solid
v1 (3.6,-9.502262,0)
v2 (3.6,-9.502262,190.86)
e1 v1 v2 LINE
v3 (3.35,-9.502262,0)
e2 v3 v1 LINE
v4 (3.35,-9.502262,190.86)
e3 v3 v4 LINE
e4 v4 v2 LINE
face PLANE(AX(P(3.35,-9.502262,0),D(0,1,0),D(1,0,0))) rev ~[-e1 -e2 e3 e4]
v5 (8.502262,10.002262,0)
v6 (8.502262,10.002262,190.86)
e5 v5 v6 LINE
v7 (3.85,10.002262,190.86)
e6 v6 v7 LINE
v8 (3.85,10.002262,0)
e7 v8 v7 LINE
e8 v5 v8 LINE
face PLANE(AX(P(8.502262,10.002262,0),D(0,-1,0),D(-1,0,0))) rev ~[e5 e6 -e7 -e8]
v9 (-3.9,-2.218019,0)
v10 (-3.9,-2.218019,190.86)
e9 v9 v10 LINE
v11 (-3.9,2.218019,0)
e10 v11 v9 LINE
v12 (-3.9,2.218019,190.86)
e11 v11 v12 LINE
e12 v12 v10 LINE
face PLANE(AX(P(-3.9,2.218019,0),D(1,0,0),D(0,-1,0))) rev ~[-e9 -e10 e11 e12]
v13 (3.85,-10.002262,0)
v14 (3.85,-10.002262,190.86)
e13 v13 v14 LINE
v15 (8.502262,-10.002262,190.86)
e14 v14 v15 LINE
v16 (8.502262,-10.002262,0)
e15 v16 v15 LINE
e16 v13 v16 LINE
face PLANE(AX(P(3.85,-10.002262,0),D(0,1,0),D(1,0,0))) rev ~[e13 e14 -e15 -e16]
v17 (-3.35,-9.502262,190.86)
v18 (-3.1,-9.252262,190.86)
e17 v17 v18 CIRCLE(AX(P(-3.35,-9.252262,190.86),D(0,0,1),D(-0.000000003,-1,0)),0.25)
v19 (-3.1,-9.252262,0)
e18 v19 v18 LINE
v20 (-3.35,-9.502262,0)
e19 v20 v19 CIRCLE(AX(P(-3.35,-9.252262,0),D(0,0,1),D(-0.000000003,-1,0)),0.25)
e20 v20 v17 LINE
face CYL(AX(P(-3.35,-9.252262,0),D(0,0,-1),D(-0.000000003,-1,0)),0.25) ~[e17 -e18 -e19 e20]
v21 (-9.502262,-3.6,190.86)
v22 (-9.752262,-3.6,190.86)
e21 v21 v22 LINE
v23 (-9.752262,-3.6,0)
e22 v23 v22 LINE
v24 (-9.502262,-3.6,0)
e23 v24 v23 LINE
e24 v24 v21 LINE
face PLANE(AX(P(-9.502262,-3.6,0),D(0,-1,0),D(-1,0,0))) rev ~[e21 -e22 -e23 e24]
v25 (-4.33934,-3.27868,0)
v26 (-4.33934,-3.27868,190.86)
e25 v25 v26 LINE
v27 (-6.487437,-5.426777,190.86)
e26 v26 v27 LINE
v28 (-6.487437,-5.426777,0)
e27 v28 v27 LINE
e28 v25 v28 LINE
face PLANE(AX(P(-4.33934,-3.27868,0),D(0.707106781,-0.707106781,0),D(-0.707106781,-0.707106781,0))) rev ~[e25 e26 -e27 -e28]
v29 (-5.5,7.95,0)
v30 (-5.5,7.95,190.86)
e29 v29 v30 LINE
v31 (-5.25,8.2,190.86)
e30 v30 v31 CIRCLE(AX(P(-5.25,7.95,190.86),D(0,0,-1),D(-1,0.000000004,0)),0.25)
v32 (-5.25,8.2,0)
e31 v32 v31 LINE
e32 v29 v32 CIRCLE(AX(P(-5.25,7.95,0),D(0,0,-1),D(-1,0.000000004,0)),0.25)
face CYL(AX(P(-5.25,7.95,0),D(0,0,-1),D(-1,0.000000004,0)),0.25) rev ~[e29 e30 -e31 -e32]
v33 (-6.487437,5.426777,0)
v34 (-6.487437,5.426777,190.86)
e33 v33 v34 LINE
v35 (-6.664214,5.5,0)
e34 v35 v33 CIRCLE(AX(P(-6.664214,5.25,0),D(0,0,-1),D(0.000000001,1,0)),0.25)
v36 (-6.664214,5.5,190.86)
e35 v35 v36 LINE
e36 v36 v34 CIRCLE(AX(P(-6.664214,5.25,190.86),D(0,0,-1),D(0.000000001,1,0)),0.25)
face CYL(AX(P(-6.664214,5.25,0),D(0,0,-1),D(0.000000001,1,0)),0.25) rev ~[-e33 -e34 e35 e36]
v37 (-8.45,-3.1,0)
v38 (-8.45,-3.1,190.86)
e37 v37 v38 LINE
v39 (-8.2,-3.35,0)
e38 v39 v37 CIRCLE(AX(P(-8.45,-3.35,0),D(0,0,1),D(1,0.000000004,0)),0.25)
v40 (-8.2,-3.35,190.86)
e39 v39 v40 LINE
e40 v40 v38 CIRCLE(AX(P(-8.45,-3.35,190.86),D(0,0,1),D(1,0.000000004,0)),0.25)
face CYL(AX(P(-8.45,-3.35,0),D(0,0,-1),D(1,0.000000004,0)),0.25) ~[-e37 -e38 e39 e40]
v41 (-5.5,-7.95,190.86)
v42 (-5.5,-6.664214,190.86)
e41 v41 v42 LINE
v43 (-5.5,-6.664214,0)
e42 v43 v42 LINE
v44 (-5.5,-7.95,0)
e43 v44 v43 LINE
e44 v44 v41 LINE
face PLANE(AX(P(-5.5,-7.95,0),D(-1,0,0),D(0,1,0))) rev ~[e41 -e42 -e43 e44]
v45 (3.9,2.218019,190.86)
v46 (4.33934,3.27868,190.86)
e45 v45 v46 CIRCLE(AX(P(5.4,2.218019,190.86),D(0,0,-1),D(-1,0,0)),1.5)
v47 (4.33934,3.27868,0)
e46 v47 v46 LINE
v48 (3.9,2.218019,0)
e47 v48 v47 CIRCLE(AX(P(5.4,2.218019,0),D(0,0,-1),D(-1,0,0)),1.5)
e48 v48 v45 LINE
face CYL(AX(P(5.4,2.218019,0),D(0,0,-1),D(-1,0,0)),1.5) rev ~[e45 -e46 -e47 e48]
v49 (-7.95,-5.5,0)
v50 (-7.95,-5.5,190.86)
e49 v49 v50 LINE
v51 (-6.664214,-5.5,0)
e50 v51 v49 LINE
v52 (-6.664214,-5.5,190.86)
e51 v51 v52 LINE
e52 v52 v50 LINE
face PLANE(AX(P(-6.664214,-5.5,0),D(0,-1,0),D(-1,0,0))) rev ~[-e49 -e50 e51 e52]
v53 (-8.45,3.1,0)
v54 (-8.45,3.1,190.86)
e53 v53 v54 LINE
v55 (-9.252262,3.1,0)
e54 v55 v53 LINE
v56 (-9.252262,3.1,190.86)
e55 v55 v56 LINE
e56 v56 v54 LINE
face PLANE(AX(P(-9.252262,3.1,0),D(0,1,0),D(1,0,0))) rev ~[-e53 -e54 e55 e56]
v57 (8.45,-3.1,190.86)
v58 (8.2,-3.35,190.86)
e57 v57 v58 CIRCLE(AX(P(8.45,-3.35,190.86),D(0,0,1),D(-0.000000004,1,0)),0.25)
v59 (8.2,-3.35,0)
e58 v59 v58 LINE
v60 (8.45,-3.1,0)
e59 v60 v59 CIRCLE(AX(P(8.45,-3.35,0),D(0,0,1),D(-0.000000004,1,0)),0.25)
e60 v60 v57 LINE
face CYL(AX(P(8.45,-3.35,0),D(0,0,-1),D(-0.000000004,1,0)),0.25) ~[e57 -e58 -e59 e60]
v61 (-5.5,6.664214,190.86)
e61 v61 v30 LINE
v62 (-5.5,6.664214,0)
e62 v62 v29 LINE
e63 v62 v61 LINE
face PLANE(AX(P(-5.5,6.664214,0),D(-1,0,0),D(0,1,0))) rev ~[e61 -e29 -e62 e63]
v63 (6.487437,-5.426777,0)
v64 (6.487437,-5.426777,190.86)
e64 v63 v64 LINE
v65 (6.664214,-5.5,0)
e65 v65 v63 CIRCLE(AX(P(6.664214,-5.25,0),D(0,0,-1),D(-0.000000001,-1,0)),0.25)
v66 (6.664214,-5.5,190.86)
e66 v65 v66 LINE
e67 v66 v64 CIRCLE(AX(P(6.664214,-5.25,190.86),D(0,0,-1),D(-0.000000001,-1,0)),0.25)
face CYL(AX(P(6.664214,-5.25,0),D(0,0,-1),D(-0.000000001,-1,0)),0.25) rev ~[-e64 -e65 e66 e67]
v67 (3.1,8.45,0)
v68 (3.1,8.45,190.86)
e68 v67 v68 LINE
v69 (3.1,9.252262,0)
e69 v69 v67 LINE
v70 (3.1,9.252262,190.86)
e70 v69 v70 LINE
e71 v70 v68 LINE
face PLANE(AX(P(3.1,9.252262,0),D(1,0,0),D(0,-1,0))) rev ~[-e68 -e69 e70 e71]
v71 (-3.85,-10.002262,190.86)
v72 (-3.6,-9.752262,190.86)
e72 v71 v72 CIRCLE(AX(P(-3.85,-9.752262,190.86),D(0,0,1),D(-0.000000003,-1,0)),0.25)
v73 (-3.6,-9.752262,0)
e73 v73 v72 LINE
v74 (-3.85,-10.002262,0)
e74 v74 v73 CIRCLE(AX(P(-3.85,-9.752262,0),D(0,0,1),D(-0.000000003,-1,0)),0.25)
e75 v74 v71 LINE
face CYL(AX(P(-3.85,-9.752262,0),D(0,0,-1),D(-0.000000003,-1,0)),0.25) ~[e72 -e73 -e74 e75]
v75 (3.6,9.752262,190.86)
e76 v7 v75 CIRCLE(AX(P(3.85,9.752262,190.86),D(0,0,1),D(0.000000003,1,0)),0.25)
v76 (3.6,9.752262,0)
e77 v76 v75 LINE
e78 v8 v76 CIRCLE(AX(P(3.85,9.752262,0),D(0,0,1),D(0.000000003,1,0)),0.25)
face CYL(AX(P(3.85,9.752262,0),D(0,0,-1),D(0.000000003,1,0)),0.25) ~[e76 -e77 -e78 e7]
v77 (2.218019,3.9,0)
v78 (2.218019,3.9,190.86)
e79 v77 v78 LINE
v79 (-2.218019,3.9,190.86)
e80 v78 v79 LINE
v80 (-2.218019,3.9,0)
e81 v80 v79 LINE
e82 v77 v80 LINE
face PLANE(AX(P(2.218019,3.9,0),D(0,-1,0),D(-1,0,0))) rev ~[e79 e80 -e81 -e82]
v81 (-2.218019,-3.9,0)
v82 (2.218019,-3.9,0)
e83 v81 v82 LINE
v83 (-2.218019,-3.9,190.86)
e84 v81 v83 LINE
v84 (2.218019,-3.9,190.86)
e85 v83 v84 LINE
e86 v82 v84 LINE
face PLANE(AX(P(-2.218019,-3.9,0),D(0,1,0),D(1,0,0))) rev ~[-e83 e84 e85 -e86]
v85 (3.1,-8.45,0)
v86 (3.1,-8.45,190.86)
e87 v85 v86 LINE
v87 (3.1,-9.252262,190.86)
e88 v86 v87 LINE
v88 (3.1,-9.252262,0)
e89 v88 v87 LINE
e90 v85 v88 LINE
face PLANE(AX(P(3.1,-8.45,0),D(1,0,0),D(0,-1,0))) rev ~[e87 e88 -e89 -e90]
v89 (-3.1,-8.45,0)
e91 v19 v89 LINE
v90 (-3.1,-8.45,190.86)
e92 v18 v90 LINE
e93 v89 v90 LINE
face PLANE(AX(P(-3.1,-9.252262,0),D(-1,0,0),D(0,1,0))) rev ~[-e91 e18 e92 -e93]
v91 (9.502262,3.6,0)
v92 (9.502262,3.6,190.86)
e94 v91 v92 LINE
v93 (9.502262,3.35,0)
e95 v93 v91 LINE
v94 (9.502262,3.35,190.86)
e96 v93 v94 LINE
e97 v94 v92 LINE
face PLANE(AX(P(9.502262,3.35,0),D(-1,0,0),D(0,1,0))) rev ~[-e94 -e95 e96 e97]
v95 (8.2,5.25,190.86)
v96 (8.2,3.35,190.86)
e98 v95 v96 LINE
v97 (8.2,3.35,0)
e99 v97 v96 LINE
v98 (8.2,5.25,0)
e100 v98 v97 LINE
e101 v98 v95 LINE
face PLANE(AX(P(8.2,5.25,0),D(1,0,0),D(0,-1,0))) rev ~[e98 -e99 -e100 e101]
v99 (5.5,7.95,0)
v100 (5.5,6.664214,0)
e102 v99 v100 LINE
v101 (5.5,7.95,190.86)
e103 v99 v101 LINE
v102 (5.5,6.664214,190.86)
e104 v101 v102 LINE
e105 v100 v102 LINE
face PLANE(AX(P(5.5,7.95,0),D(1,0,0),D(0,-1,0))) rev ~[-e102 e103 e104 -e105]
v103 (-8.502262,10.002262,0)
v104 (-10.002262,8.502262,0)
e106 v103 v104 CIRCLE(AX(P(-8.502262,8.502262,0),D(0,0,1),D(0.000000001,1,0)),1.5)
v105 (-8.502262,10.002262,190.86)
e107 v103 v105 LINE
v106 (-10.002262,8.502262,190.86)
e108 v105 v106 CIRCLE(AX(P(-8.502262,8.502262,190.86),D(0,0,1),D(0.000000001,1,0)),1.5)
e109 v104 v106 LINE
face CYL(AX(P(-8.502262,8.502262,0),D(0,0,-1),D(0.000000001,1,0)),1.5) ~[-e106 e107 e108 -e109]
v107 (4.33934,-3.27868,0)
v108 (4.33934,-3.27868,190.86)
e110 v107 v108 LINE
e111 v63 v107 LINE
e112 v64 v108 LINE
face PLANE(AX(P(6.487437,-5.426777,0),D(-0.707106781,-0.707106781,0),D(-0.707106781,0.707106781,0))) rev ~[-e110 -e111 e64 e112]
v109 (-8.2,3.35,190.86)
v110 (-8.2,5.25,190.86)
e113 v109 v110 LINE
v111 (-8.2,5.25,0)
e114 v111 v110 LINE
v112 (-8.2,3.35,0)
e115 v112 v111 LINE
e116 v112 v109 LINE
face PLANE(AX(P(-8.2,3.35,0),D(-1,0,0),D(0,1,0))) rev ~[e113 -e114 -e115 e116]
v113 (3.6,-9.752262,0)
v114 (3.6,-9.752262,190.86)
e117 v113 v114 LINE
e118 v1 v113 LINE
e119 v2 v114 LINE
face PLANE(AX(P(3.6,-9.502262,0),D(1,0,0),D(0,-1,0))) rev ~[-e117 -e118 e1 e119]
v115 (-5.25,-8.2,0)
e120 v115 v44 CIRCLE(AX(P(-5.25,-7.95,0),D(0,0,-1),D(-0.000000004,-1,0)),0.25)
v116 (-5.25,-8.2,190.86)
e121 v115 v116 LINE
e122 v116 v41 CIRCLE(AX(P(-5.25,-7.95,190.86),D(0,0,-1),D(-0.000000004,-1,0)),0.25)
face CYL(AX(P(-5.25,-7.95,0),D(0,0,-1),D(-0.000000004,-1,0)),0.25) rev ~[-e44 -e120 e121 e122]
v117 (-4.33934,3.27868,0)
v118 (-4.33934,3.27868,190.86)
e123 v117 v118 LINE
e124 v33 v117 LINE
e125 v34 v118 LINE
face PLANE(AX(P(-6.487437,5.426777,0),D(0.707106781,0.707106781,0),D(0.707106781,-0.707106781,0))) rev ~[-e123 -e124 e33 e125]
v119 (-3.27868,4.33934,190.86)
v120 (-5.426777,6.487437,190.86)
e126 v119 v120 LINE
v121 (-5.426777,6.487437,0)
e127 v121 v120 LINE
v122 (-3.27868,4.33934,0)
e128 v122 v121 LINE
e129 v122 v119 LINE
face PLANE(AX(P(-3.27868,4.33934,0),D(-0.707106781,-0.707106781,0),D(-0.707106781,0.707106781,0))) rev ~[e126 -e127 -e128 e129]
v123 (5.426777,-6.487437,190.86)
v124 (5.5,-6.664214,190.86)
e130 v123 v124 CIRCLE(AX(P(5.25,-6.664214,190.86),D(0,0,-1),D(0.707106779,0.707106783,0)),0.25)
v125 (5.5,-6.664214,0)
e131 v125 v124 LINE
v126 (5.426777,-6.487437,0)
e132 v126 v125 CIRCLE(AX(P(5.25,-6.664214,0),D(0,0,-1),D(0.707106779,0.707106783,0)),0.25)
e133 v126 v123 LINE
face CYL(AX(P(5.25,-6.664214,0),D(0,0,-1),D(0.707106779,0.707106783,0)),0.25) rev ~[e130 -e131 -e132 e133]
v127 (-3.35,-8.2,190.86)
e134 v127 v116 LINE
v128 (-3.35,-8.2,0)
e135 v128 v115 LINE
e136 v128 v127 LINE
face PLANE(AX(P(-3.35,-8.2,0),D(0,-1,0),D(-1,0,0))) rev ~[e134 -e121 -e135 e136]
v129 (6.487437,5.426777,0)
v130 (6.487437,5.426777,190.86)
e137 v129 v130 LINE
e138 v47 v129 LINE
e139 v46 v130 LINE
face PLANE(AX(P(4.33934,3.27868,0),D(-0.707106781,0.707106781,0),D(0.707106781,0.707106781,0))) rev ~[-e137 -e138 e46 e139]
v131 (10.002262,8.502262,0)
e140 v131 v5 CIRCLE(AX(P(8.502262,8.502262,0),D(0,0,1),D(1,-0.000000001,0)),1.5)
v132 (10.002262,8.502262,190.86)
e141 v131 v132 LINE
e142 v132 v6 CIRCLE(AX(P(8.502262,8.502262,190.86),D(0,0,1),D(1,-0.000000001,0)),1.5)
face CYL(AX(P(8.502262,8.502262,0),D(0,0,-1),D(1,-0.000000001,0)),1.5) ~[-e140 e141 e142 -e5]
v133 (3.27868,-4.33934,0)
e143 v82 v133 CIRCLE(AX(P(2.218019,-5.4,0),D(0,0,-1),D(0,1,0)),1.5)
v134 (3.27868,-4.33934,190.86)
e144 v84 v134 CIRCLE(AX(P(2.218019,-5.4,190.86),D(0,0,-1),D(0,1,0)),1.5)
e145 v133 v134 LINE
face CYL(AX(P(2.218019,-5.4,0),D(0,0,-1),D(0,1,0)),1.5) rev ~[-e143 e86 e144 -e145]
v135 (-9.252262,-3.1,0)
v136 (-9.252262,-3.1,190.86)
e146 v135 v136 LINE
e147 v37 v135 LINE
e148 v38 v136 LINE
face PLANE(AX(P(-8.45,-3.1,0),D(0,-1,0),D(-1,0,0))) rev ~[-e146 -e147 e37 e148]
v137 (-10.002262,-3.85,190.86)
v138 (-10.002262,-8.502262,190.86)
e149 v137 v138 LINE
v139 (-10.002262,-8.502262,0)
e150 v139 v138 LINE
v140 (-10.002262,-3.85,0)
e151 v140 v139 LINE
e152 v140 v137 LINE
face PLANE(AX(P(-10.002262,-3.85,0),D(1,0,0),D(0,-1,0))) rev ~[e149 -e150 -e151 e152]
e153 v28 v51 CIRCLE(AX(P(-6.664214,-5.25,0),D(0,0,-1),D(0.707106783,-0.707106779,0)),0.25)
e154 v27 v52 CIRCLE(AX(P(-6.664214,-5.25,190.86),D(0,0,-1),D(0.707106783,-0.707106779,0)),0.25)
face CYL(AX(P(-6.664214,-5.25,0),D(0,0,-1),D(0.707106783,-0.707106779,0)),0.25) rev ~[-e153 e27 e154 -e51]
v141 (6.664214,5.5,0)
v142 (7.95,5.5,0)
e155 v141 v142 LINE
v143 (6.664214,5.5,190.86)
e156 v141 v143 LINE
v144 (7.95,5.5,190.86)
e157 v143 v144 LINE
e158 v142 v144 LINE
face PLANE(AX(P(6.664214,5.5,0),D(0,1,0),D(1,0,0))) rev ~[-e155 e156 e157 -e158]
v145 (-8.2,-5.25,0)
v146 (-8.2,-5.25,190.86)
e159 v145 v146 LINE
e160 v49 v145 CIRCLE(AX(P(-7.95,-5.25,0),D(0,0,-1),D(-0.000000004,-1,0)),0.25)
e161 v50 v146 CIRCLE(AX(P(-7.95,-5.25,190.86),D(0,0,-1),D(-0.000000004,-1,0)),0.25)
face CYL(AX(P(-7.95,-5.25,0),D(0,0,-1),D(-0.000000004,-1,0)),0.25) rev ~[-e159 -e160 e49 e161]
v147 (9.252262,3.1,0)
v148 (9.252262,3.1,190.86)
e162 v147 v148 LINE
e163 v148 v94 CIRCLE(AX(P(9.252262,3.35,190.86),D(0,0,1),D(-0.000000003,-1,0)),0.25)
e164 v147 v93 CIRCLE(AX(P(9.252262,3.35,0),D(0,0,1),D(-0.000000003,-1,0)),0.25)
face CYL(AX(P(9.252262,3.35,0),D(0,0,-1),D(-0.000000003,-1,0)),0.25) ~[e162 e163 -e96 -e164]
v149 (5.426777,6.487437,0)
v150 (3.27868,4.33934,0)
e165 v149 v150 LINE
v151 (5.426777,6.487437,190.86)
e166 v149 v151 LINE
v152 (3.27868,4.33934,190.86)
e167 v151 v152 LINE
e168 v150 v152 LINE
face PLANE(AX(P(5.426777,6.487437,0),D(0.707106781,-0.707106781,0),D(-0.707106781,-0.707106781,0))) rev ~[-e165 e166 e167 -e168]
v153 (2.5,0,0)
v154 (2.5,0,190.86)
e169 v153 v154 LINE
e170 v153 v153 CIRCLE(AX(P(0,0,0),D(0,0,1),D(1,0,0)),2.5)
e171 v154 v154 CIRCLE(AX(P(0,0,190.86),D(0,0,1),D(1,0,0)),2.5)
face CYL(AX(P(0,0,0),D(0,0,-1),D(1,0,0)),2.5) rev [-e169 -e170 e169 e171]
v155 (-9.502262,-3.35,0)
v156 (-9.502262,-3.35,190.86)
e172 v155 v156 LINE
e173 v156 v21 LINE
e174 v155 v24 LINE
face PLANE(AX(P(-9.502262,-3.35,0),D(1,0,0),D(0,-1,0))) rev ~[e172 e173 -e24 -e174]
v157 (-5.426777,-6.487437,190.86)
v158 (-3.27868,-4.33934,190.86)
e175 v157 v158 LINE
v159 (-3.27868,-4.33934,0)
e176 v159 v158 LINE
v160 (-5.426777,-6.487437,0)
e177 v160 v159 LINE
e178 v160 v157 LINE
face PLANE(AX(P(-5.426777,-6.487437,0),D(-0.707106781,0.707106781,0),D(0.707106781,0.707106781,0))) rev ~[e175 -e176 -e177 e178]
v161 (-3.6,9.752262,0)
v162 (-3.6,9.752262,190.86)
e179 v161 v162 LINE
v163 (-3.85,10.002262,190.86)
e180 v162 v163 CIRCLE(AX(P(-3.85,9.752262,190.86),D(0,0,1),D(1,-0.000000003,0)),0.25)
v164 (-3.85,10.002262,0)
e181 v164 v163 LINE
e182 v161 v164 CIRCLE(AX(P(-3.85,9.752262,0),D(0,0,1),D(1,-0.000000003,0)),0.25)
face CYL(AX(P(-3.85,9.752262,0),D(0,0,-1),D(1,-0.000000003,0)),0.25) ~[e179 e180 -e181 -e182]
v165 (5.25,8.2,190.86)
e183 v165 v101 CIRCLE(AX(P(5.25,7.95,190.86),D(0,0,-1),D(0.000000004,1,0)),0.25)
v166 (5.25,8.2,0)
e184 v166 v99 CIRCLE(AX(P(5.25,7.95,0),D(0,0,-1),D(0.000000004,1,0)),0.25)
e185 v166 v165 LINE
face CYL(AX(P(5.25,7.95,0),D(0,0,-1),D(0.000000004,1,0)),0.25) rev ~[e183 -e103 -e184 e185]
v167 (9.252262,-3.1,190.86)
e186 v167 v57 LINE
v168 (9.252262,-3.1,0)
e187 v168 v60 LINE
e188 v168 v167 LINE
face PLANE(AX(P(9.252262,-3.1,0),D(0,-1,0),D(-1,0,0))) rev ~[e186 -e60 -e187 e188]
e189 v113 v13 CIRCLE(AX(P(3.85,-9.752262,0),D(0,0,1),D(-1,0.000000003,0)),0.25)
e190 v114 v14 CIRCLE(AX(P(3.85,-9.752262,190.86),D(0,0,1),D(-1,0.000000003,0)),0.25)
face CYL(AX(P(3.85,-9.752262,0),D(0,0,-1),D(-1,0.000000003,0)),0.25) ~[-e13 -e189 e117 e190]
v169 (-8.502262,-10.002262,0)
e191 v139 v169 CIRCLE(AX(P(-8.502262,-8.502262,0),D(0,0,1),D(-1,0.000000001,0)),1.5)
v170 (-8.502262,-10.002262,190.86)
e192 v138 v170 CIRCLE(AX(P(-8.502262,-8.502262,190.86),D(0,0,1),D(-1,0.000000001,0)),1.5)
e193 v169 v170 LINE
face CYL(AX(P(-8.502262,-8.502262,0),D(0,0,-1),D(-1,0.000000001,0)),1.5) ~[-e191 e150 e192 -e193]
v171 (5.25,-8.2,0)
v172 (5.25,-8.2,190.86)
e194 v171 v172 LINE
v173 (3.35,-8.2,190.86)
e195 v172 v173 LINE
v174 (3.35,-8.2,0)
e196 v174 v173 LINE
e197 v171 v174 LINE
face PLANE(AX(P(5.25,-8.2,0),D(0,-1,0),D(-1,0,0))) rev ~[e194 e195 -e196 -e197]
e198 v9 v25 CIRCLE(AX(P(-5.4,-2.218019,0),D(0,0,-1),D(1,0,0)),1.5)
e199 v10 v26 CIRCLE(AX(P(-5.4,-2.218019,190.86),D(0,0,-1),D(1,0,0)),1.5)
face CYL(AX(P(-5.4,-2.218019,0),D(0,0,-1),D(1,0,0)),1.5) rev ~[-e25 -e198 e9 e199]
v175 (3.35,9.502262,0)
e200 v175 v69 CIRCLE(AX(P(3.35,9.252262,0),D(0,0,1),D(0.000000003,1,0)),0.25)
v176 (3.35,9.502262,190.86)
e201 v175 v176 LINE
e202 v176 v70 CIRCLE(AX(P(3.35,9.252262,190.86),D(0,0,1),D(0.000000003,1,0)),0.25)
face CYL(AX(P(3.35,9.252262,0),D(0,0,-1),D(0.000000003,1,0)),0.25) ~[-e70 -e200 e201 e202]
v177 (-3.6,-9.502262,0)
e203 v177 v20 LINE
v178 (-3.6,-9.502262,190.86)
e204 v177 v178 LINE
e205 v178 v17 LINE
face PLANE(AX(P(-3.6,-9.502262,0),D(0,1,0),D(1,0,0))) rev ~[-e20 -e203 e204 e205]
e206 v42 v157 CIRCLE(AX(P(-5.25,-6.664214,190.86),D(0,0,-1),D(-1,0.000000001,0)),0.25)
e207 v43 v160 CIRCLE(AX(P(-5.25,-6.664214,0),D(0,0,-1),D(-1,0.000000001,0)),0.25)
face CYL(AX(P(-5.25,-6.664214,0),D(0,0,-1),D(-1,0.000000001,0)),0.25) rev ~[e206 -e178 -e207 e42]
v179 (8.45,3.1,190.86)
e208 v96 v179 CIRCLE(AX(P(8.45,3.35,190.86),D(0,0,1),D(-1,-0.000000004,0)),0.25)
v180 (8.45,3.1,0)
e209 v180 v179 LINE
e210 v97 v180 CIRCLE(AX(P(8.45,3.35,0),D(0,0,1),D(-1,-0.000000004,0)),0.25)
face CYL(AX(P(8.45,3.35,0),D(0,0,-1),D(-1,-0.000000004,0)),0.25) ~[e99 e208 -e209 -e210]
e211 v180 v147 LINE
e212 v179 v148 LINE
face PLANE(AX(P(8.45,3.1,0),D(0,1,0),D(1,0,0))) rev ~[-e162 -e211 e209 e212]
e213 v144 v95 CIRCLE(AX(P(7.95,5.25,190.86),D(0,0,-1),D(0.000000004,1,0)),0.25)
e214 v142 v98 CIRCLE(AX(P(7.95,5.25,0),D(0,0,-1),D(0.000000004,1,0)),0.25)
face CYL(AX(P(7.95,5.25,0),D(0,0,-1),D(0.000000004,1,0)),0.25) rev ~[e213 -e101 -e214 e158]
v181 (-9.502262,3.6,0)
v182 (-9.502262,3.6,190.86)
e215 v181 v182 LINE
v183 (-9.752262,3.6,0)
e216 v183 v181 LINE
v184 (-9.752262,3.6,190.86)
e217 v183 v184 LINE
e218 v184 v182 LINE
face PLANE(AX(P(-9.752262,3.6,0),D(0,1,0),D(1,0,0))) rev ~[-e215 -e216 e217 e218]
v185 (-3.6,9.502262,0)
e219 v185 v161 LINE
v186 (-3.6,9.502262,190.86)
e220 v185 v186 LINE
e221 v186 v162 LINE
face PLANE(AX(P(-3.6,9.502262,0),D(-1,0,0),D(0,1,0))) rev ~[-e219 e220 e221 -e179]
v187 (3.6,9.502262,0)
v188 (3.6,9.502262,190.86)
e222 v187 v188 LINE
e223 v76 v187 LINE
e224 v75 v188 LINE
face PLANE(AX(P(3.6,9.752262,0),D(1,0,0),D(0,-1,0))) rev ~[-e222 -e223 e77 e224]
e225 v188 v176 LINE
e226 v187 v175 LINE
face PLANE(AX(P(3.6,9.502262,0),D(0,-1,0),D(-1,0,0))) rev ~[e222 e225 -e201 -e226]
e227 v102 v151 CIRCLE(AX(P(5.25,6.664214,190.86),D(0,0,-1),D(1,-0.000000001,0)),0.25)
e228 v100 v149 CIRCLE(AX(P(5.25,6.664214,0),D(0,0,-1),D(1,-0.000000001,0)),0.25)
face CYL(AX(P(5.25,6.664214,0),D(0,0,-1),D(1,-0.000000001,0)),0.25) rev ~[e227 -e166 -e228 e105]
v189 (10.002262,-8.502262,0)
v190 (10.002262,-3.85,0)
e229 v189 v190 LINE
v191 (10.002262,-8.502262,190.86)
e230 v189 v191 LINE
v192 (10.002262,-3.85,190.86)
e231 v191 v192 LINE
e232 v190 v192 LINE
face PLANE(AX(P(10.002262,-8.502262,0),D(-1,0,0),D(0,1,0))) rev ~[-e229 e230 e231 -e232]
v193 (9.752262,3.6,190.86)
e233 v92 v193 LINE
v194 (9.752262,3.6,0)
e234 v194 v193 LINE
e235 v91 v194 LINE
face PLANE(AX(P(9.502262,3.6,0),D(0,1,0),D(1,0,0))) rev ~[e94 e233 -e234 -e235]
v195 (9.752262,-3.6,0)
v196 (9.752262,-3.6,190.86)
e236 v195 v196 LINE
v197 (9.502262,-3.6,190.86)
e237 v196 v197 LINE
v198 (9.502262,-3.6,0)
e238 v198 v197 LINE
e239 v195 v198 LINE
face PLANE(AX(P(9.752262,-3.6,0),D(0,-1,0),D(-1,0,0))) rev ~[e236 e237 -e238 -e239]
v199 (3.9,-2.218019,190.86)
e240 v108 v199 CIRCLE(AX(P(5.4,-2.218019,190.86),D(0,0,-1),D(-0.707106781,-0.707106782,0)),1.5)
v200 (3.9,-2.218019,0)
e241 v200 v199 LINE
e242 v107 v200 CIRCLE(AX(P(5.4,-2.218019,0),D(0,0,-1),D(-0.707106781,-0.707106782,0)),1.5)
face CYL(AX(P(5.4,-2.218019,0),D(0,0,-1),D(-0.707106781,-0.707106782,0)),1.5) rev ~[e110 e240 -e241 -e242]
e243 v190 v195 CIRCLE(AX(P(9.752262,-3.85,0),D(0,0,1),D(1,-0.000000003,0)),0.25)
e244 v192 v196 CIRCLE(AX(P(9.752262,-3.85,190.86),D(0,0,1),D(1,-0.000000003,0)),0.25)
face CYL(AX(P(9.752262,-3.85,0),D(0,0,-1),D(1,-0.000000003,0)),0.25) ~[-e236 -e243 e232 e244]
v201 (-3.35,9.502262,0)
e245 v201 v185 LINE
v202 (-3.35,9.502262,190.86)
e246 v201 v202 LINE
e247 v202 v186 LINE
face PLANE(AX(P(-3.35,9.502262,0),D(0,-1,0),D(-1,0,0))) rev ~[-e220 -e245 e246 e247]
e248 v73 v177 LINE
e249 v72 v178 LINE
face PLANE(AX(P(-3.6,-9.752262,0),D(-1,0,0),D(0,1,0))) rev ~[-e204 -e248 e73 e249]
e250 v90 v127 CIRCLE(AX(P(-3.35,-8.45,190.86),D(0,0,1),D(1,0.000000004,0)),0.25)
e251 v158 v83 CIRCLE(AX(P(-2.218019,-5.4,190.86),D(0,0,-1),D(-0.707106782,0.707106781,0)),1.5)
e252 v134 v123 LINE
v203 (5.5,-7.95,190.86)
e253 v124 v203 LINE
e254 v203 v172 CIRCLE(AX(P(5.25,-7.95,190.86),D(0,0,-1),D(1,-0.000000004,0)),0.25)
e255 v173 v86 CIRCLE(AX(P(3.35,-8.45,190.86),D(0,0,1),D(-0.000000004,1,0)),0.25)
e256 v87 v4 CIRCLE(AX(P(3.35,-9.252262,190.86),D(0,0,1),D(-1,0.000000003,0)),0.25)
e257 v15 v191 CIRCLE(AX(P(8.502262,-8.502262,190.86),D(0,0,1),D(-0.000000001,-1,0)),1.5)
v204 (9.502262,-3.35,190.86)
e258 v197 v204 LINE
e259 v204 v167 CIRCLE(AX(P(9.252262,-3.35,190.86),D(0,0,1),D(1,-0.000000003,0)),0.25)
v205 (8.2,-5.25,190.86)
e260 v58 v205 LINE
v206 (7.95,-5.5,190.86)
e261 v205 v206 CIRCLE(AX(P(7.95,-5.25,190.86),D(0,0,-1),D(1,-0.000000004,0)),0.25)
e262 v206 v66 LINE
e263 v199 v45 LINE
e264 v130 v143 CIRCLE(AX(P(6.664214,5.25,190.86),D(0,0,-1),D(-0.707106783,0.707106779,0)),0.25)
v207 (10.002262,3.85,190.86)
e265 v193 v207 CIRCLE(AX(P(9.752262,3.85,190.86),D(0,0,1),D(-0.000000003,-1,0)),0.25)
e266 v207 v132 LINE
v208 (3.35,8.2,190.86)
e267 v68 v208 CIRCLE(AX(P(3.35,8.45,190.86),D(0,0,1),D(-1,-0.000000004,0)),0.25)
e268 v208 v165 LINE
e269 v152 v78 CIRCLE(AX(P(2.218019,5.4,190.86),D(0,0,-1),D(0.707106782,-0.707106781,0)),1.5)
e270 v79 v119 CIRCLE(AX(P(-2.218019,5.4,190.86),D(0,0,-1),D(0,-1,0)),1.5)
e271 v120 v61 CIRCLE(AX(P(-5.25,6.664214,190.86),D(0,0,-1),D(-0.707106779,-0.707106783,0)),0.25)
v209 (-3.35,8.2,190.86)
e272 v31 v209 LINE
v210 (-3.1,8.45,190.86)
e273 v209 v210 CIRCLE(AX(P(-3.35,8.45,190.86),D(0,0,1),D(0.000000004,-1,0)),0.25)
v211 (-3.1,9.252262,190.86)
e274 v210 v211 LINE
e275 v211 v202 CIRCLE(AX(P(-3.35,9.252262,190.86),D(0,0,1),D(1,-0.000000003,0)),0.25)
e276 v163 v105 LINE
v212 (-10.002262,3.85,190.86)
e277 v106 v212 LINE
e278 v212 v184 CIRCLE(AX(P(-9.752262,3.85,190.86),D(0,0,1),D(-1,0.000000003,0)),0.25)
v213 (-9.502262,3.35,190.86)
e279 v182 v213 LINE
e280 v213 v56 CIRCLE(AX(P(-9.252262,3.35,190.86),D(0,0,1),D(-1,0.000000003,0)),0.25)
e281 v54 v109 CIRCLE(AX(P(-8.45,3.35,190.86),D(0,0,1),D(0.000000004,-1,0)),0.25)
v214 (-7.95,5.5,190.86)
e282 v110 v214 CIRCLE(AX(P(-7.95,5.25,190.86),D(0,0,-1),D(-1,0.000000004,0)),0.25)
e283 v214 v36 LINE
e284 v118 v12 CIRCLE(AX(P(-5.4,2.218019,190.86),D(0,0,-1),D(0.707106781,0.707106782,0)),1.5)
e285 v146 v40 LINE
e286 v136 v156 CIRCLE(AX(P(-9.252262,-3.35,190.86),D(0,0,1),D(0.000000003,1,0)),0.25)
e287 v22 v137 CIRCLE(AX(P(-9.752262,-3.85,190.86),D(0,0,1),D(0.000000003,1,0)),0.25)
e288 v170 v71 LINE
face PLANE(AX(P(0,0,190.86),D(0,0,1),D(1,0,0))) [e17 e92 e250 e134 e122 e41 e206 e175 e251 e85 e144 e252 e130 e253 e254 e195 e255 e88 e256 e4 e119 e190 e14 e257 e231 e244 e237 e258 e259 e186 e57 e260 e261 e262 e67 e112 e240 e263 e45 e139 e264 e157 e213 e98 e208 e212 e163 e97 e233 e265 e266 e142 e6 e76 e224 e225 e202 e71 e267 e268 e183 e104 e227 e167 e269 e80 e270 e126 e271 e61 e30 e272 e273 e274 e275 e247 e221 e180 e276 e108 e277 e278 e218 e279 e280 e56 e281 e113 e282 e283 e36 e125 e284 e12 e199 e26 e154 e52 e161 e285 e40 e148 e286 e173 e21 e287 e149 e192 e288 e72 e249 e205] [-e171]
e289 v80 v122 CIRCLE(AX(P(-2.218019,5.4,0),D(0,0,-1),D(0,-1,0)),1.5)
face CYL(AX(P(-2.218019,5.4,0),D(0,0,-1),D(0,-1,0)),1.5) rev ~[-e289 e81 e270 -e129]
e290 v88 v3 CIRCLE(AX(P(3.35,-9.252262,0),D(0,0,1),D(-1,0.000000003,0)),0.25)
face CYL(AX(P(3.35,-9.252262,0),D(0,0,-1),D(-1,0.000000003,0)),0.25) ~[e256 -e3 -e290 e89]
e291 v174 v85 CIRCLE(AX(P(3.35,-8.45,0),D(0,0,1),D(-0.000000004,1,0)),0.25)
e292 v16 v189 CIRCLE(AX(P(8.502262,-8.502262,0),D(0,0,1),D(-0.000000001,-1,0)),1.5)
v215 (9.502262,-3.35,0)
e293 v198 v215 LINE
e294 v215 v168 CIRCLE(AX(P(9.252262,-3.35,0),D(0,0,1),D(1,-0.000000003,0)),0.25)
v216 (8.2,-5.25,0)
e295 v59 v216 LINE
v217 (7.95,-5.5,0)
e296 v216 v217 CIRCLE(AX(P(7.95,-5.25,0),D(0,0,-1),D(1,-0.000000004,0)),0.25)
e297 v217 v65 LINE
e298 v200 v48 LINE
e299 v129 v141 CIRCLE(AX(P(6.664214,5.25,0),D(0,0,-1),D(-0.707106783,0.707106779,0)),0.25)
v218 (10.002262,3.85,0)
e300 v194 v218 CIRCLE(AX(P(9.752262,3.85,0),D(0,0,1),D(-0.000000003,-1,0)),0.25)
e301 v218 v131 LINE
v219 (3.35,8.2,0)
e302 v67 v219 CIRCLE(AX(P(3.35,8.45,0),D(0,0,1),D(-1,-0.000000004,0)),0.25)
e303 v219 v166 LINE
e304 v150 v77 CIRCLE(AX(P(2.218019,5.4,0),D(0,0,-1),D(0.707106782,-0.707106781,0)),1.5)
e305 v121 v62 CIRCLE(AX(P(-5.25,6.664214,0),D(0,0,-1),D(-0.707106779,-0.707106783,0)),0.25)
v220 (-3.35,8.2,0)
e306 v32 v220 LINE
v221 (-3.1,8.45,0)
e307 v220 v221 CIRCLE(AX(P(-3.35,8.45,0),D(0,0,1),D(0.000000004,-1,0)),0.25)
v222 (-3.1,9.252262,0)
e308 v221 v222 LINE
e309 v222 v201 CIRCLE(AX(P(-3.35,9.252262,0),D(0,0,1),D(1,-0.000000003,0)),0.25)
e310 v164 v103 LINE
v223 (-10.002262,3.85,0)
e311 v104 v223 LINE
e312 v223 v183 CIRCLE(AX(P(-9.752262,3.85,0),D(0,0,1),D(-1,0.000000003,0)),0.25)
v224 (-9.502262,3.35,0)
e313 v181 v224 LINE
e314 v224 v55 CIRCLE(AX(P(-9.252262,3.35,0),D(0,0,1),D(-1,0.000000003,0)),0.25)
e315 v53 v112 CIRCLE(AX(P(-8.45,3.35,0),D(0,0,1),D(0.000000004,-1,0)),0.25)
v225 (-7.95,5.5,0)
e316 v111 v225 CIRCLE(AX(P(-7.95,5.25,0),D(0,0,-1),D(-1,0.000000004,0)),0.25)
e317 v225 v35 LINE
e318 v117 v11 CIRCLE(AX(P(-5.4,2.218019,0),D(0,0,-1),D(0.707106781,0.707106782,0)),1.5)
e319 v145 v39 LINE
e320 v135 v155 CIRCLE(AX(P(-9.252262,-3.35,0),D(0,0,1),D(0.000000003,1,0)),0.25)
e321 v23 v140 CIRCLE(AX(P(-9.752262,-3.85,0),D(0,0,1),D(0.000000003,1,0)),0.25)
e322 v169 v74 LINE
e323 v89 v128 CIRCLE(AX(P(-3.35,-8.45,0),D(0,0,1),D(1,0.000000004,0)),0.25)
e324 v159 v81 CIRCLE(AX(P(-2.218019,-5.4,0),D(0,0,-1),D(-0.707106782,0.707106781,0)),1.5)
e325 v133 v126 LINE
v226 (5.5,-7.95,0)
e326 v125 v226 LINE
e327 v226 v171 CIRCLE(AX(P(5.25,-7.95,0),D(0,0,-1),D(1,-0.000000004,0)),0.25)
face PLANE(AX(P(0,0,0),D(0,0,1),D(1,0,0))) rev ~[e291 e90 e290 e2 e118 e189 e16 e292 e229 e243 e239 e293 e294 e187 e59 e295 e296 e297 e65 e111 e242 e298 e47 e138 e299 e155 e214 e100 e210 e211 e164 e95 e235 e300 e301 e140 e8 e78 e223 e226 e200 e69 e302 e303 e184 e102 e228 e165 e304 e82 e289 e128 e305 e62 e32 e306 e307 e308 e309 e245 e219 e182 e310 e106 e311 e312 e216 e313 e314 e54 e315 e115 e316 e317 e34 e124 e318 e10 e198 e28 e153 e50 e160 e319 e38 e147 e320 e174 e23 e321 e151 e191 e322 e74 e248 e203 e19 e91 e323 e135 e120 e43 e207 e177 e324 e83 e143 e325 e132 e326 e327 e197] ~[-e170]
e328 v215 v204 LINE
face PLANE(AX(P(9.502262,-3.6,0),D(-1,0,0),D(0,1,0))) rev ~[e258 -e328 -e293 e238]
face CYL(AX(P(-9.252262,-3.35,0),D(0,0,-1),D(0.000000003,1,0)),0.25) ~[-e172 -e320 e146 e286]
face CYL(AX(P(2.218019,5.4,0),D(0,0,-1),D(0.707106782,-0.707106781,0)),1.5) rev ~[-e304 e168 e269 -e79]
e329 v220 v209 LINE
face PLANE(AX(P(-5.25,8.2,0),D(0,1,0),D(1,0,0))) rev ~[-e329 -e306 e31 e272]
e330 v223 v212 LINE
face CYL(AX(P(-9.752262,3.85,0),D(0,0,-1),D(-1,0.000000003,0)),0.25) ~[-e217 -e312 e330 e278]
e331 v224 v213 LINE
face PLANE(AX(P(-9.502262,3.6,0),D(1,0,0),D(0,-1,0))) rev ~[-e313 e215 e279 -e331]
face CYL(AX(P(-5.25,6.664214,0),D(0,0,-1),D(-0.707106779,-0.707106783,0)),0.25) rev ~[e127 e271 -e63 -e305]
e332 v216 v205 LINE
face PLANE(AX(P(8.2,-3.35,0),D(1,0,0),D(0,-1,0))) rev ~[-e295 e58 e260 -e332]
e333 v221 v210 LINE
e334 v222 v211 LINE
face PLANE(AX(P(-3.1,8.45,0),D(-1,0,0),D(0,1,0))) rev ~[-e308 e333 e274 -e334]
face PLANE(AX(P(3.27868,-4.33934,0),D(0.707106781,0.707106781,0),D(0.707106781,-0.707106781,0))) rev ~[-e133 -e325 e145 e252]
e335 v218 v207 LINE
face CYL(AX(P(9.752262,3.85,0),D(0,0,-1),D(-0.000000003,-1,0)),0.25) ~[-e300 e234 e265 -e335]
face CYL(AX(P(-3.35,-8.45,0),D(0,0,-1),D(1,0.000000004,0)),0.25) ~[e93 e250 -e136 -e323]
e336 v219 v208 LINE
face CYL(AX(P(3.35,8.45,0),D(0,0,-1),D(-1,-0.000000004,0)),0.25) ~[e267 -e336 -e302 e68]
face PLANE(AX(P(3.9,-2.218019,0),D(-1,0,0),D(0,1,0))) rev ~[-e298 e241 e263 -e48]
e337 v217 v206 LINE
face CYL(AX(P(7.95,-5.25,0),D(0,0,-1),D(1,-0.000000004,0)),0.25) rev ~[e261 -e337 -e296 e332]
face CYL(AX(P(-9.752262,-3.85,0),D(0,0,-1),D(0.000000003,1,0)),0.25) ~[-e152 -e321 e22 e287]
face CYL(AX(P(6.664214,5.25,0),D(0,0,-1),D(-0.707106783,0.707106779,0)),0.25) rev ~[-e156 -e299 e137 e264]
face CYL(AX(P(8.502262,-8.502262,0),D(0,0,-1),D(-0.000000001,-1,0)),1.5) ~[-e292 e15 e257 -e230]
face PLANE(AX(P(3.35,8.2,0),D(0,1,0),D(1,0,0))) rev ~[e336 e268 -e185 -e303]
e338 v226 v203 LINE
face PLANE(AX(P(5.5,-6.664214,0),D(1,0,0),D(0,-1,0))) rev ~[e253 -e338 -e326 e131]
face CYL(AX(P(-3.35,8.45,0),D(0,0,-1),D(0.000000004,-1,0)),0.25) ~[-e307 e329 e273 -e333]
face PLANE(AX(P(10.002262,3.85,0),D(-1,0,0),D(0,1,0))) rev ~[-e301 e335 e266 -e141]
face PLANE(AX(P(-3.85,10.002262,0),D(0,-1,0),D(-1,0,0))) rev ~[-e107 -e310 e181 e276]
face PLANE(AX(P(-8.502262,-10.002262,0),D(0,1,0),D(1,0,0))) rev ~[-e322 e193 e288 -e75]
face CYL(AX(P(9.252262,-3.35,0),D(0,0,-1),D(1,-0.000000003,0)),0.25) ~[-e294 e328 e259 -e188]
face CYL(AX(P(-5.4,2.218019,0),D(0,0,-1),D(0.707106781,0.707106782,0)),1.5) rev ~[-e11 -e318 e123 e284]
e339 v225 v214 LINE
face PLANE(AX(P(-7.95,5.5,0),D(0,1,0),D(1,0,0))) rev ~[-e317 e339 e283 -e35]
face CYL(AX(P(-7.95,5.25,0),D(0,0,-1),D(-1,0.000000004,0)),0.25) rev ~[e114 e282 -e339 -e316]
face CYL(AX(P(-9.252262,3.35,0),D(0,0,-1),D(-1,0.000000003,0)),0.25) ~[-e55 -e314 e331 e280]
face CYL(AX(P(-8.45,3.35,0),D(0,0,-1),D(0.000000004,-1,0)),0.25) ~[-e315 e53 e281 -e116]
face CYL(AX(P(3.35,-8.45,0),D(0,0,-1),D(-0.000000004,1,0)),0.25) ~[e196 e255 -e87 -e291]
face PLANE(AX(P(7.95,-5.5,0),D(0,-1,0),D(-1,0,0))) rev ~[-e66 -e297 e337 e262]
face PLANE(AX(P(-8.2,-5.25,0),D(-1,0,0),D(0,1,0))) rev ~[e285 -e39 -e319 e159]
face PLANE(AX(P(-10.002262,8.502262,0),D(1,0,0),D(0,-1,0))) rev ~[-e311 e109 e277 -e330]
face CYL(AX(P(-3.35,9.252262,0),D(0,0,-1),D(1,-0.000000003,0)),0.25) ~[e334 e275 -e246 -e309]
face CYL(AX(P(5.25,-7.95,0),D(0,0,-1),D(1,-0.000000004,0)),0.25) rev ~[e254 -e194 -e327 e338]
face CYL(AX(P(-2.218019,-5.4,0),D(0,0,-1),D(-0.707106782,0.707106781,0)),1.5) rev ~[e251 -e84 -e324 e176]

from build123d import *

# Parameters (mm, degrees)
SKETCH_1_R      = 2.5
EXTRUDE_1_DEPTH = 190.86


with BuildPart() as part:
    # 草图1 → 凸台-拉伸1 (new body)
    with BuildSketch(Plane.XY):
        with BuildLine():
            Line((-8.502261885, -10.002261885), (-3.85, -10.002261885))
            ThreePointArc((-3.85, -10.002261885), (-3.673223305, -9.929038581), (-3.6, -9.752261885))
            Line((-3.6, -9.752261885), (-3.6, -9.502261885))
            Line((-3.6, -9.502261885), (-3.35, -9.502261885))
            ThreePointArc((-3.35, -9.502261885), (-3.173223305, -9.429038581), (-3.1, -9.252261885))
            Line((-3.1, -9.252261885), (-3.1, -8.45))
            ThreePointArc((-3.1, -8.45), (-3.173223305, -8.273223305), (-3.35, -8.2))
            Line((-3.35, -8.2), (-5.25, -8.2))
            ThreePointArc((-5.25, -8.2), (-5.426776695, -8.126776695), (-5.5, -7.95))
            Line((-5.5, -7.95), (-5.5, -6.664213562))
            ThreePointArc((-5.5, -6.664213562), (-5.480969883, -6.568542704), (-5.426776695, -6.487436867))
            Line((-5.426776695, -6.487436867), (-3.278679656, -4.339339828))
            ThreePointArc((-3.278679656, -4.339339828), (-2.792044633, -4.014180701), (-2.218019485, -3.9))
            Line((-2.218019485, -3.9), (2.218019485, -3.9))
            ThreePointArc((2.218019485, -3.9), (2.792044633, -4.014180701), (3.278679656, -4.339339828))
            Line((3.278679656, -4.339339828), (5.426776695, -6.487436867))
            ThreePointArc((5.426776695, -6.487436867), (5.480969883, -6.568542704), (5.5, -6.664213562))
            Line((5.5, -6.664213562), (5.5, -7.95))
            ThreePointArc((5.5, -7.95), (5.426776695, -8.126776695), (5.25, -8.2))
            Line((5.25, -8.2), (3.35, -8.2))
            ThreePointArc((3.35, -8.2), (3.173223305, -8.273223305), (3.1, -8.45))
            Line((3.1, -8.45), (3.1, -9.252261885))
            ThreePointArc((3.1, -9.252261885), (3.173223305, -9.429038581), (3.35, -9.502261885))
            Line((3.35, -9.502261885), (3.6, -9.502261885))
            Line((3.6, -9.502261885), (3.6, -9.752261885))
            ThreePointArc((3.6, -9.752261885), (3.673223305, -9.929038581), (3.85, -10.002261885))
            Line((3.85, -10.002261885), (8.502261885, -10.002261885))
            ThreePointArc((8.502261885, -10.002261885), (9.562922057, -9.562922057), (10.002261885, -8.502261885))
            Line((10.002261885, -8.502261885), (10.002261885, -3.85))
            ThreePointArc((10.002261885, -3.85), (9.929038581, -3.673223305), (9.752261885, -3.6))
            Line((9.752261885, -3.6), (9.502261885, -3.6))
            Line((9.502261885, -3.6), (9.502261885, -3.35))
            ThreePointArc((9.502261885, -3.35), (9.429038581, -3.173223305), (9.252261885, -3.1))
            Line((9.252261885, -3.1), (8.45, -3.1))
            ThreePointArc((8.45, -3.1), (8.273223305, -3.173223305), (8.2, -3.35))
            Line((8.2, -3.35), (8.2, -5.25))
            ThreePointArc((8.2, -5.25), (8.126776695, -5.426776695), (7.95, -5.5))
            Line((7.95, -5.5), (6.664213562, -5.5))
            ThreePointArc((6.664213562, -5.5), (6.568542704, -5.480969883), (6.487436867, -5.426776695))
            Line((6.487436867, -5.426776695), (4.339339828, -3.278679656))
            ThreePointArc((4.339339828, -3.278679656), (4.014180701, -2.792044633), (3.9, -2.218019485))
            Line((3.9, -2.218019485), (3.9, 2.218019485))
            ThreePointArc((3.9, 2.218019485), (4.014180701, 2.792044633), (4.339339828, 3.278679656))
            Line((4.339339828, 3.278679656), (6.487436867, 5.426776695))
            ThreePointArc((6.487436867, 5.426776695), (6.568542704, 5.480969883), (6.664213562, 5.5))
            Line((6.664213562, 5.5), (7.95, 5.5))
            ThreePointArc((7.95, 5.5), (8.126776695, 5.426776695), (8.2, 5.25))
            Line((8.2, 5.25), (8.2, 3.35))
            ThreePointArc((8.2, 3.35), (8.273223305, 3.173223305), (8.45, 3.1))
            Line((8.45, 3.1), (9.252261885, 3.1))
            ThreePointArc((9.252261885, 3.1), (9.429038581, 3.173223305), (9.502261885, 3.35))
            Line((9.502261885, 3.35), (9.502261885, 3.6))
            Line((9.502261885, 3.6), (9.752261885, 3.6))
            ThreePointArc((9.752261885, 3.6), (9.929038581, 3.673223305), (10.002261885, 3.85))
            Line((10.002261885, 3.85), (10.002261885, 8.502261885))
            ThreePointArc((10.002261885, 8.502261885), (9.562922057, 9.562922057), (8.502261885, 10.002261885))
            Line((8.502261885, 10.002261885), (3.85, 10.002261885))
            ThreePointArc((3.85, 10.002261885), (3.673223305, 9.929038581), (3.6, 9.752261885))
            Line((3.6, 9.752261885), (3.6, 9.502261885))
            Line((3.6, 9.502261885), (3.35, 9.502261885))
            ThreePointArc((3.35, 9.502261885), (3.173223305, 9.429038581), (3.1, 9.252261885))
            Line((3.1, 9.252261885), (3.1, 8.45))
            ThreePointArc((3.1, 8.45), (3.173223305, 8.273223305), (3.35, 8.2))
            Line((3.35, 8.2), (5.25, 8.2))
            ThreePointArc((5.25, 8.2), (5.426776695, 8.126776695), (5.5, 7.95))
            Line((5.5, 7.95), (5.5, 6.664213562))
            ThreePointArc((5.5, 6.664213562), (5.480969883, 6.568542704), (5.426776695, 6.487436867))
            Line((5.426776695, 6.487436867), (3.278679656, 4.339339828))
            ThreePointArc((3.278679656, 4.339339828), (2.792044633, 4.014180701), (2.218019485, 3.9))
            Line((2.218019485, 3.9), (-2.218019485, 3.9))
            ThreePointArc((-2.218019485, 3.9), (-2.792044633, 4.014180701), (-3.278679656, 4.339339828))
            Line((-3.278679656, 4.339339828), (-5.426776695, 6.487436867))
            ThreePointArc((-5.426776695, 6.487436867), (-5.480969883, 6.568542704), (-5.5, 6.664213562))
            Line((-5.5, 6.664213562), (-5.5, 7.95))
            ThreePointArc((-5.5, 7.95), (-5.426776695, 8.126776695), (-5.25, 8.2))
            Line((-5.25, 8.2), (-3.35, 8.2))
            ThreePointArc((-3.35, 8.2), (-3.173223305, 8.273223305), (-3.1, 8.45))
            Line((-3.1, 8.45), (-3.1, 9.252261885))
            ThreePointArc((-3.1, 9.252261885), (-3.173223305, 9.429038581), (-3.35, 9.502261885))
            Line((-3.35, 9.502261885), (-3.6, 9.502261885))
            Line((-3.6, 9.502261885), (-3.6, 9.752261885))
            ThreePointArc((-3.6, 9.752261885), (-3.673223305, 9.929038581), (-3.85, 10.002261885))
            Line((-3.85, 10.002261885), (-8.502261885, 10.002261885))
            ThreePointArc((-8.502261885, 10.002261885), (-9.562922057, 9.562922057), (-10.002261885, 8.502261885))
            Line((-10.002261885, 8.502261885), (-10.002261885, 3.85))
            ThreePointArc((-10.002261885, 3.85), (-9.929038581, 3.673223305), (-9.752261885, 3.6))
            Line((-9.752261885, 3.6), (-9.502261885, 3.6))
            Line((-9.502261885, 3.6), (-9.502261885, 3.35))
            ThreePointArc((-9.502261885, 3.35), (-9.429038581, 3.173223305), (-9.252261885, 3.1))
            Line((-9.252261885, 3.1), (-8.45, 3.1))
            ThreePointArc((-8.45, 3.1), (-8.273223305, 3.173223305), (-8.2, 3.35))
            Line((-8.2, 3.35), (-8.2, 5.25))
            ThreePointArc((-8.2, 5.25), (-8.126776695, 5.426776695), (-7.95, 5.5))
            Line((-7.95, 5.5), (-6.664213562, 5.5))
            ThreePointArc((-6.664213562, 5.5), (-6.568542704, 5.480969883), (-6.487436867, 5.426776695))
            Line((-6.487436867, 5.426776695), (-4.339339828, 3.278679656))
            ThreePointArc((-4.339339828, 3.278679656), (-4.014180701, 2.792044633), (-3.9, 2.218019485))
            Line((-3.9, 2.218019485), (-3.9, -2.218019485))
            ThreePointArc((-3.9, -2.218019485), (-4.014180701, -2.792044633), (-4.339339828, -3.278679656))
            Line((-4.339339828, -3.278679656), (-6.487436867, -5.426776695))
            ThreePointArc((-6.487436867, -5.426776695), (-6.568542704, -5.480969883), (-6.664213562, -5.5))
            Line((-6.664213562, -5.5), (-7.95, -5.5))
            ThreePointArc((-7.95, -5.5), (-8.126776695, -5.426776695), (-8.2, -5.25))
            Line((-8.2, -5.25), (-8.2, -3.35))
            ThreePointArc((-8.2, -3.35), (-8.273223305, -3.173223305), (-8.45, -3.1))
            Line((-8.45, -3.1), (-9.252261885, -3.1))
            ThreePointArc((-9.252261885, -3.1), (-9.429038581, -3.173223305), (-9.502261885, -3.35))
            Line((-9.502261885, -3.35), (-9.502261885, -3.6))
            Line((-9.502261885, -3.6), (-9.752261885, -3.6))
            ThreePointArc((-9.752261885, -3.6), (-9.929038581, -3.673223305), (-10.002261885, -3.85))
            Line((-10.002261885, -3.85), (-10.002261885, -8.502261885))
            ThreePointArc((-10.002261885, -8.502261885), (-9.562922057, -9.562922057), (-8.502261885, -10.002261885))
        make_face()
        Circle(SKETCH_1_R, mode=Mode.SUBTRACT)
    extrude(amount=EXTRUDE_1_DEPTH)


solid = part.part
